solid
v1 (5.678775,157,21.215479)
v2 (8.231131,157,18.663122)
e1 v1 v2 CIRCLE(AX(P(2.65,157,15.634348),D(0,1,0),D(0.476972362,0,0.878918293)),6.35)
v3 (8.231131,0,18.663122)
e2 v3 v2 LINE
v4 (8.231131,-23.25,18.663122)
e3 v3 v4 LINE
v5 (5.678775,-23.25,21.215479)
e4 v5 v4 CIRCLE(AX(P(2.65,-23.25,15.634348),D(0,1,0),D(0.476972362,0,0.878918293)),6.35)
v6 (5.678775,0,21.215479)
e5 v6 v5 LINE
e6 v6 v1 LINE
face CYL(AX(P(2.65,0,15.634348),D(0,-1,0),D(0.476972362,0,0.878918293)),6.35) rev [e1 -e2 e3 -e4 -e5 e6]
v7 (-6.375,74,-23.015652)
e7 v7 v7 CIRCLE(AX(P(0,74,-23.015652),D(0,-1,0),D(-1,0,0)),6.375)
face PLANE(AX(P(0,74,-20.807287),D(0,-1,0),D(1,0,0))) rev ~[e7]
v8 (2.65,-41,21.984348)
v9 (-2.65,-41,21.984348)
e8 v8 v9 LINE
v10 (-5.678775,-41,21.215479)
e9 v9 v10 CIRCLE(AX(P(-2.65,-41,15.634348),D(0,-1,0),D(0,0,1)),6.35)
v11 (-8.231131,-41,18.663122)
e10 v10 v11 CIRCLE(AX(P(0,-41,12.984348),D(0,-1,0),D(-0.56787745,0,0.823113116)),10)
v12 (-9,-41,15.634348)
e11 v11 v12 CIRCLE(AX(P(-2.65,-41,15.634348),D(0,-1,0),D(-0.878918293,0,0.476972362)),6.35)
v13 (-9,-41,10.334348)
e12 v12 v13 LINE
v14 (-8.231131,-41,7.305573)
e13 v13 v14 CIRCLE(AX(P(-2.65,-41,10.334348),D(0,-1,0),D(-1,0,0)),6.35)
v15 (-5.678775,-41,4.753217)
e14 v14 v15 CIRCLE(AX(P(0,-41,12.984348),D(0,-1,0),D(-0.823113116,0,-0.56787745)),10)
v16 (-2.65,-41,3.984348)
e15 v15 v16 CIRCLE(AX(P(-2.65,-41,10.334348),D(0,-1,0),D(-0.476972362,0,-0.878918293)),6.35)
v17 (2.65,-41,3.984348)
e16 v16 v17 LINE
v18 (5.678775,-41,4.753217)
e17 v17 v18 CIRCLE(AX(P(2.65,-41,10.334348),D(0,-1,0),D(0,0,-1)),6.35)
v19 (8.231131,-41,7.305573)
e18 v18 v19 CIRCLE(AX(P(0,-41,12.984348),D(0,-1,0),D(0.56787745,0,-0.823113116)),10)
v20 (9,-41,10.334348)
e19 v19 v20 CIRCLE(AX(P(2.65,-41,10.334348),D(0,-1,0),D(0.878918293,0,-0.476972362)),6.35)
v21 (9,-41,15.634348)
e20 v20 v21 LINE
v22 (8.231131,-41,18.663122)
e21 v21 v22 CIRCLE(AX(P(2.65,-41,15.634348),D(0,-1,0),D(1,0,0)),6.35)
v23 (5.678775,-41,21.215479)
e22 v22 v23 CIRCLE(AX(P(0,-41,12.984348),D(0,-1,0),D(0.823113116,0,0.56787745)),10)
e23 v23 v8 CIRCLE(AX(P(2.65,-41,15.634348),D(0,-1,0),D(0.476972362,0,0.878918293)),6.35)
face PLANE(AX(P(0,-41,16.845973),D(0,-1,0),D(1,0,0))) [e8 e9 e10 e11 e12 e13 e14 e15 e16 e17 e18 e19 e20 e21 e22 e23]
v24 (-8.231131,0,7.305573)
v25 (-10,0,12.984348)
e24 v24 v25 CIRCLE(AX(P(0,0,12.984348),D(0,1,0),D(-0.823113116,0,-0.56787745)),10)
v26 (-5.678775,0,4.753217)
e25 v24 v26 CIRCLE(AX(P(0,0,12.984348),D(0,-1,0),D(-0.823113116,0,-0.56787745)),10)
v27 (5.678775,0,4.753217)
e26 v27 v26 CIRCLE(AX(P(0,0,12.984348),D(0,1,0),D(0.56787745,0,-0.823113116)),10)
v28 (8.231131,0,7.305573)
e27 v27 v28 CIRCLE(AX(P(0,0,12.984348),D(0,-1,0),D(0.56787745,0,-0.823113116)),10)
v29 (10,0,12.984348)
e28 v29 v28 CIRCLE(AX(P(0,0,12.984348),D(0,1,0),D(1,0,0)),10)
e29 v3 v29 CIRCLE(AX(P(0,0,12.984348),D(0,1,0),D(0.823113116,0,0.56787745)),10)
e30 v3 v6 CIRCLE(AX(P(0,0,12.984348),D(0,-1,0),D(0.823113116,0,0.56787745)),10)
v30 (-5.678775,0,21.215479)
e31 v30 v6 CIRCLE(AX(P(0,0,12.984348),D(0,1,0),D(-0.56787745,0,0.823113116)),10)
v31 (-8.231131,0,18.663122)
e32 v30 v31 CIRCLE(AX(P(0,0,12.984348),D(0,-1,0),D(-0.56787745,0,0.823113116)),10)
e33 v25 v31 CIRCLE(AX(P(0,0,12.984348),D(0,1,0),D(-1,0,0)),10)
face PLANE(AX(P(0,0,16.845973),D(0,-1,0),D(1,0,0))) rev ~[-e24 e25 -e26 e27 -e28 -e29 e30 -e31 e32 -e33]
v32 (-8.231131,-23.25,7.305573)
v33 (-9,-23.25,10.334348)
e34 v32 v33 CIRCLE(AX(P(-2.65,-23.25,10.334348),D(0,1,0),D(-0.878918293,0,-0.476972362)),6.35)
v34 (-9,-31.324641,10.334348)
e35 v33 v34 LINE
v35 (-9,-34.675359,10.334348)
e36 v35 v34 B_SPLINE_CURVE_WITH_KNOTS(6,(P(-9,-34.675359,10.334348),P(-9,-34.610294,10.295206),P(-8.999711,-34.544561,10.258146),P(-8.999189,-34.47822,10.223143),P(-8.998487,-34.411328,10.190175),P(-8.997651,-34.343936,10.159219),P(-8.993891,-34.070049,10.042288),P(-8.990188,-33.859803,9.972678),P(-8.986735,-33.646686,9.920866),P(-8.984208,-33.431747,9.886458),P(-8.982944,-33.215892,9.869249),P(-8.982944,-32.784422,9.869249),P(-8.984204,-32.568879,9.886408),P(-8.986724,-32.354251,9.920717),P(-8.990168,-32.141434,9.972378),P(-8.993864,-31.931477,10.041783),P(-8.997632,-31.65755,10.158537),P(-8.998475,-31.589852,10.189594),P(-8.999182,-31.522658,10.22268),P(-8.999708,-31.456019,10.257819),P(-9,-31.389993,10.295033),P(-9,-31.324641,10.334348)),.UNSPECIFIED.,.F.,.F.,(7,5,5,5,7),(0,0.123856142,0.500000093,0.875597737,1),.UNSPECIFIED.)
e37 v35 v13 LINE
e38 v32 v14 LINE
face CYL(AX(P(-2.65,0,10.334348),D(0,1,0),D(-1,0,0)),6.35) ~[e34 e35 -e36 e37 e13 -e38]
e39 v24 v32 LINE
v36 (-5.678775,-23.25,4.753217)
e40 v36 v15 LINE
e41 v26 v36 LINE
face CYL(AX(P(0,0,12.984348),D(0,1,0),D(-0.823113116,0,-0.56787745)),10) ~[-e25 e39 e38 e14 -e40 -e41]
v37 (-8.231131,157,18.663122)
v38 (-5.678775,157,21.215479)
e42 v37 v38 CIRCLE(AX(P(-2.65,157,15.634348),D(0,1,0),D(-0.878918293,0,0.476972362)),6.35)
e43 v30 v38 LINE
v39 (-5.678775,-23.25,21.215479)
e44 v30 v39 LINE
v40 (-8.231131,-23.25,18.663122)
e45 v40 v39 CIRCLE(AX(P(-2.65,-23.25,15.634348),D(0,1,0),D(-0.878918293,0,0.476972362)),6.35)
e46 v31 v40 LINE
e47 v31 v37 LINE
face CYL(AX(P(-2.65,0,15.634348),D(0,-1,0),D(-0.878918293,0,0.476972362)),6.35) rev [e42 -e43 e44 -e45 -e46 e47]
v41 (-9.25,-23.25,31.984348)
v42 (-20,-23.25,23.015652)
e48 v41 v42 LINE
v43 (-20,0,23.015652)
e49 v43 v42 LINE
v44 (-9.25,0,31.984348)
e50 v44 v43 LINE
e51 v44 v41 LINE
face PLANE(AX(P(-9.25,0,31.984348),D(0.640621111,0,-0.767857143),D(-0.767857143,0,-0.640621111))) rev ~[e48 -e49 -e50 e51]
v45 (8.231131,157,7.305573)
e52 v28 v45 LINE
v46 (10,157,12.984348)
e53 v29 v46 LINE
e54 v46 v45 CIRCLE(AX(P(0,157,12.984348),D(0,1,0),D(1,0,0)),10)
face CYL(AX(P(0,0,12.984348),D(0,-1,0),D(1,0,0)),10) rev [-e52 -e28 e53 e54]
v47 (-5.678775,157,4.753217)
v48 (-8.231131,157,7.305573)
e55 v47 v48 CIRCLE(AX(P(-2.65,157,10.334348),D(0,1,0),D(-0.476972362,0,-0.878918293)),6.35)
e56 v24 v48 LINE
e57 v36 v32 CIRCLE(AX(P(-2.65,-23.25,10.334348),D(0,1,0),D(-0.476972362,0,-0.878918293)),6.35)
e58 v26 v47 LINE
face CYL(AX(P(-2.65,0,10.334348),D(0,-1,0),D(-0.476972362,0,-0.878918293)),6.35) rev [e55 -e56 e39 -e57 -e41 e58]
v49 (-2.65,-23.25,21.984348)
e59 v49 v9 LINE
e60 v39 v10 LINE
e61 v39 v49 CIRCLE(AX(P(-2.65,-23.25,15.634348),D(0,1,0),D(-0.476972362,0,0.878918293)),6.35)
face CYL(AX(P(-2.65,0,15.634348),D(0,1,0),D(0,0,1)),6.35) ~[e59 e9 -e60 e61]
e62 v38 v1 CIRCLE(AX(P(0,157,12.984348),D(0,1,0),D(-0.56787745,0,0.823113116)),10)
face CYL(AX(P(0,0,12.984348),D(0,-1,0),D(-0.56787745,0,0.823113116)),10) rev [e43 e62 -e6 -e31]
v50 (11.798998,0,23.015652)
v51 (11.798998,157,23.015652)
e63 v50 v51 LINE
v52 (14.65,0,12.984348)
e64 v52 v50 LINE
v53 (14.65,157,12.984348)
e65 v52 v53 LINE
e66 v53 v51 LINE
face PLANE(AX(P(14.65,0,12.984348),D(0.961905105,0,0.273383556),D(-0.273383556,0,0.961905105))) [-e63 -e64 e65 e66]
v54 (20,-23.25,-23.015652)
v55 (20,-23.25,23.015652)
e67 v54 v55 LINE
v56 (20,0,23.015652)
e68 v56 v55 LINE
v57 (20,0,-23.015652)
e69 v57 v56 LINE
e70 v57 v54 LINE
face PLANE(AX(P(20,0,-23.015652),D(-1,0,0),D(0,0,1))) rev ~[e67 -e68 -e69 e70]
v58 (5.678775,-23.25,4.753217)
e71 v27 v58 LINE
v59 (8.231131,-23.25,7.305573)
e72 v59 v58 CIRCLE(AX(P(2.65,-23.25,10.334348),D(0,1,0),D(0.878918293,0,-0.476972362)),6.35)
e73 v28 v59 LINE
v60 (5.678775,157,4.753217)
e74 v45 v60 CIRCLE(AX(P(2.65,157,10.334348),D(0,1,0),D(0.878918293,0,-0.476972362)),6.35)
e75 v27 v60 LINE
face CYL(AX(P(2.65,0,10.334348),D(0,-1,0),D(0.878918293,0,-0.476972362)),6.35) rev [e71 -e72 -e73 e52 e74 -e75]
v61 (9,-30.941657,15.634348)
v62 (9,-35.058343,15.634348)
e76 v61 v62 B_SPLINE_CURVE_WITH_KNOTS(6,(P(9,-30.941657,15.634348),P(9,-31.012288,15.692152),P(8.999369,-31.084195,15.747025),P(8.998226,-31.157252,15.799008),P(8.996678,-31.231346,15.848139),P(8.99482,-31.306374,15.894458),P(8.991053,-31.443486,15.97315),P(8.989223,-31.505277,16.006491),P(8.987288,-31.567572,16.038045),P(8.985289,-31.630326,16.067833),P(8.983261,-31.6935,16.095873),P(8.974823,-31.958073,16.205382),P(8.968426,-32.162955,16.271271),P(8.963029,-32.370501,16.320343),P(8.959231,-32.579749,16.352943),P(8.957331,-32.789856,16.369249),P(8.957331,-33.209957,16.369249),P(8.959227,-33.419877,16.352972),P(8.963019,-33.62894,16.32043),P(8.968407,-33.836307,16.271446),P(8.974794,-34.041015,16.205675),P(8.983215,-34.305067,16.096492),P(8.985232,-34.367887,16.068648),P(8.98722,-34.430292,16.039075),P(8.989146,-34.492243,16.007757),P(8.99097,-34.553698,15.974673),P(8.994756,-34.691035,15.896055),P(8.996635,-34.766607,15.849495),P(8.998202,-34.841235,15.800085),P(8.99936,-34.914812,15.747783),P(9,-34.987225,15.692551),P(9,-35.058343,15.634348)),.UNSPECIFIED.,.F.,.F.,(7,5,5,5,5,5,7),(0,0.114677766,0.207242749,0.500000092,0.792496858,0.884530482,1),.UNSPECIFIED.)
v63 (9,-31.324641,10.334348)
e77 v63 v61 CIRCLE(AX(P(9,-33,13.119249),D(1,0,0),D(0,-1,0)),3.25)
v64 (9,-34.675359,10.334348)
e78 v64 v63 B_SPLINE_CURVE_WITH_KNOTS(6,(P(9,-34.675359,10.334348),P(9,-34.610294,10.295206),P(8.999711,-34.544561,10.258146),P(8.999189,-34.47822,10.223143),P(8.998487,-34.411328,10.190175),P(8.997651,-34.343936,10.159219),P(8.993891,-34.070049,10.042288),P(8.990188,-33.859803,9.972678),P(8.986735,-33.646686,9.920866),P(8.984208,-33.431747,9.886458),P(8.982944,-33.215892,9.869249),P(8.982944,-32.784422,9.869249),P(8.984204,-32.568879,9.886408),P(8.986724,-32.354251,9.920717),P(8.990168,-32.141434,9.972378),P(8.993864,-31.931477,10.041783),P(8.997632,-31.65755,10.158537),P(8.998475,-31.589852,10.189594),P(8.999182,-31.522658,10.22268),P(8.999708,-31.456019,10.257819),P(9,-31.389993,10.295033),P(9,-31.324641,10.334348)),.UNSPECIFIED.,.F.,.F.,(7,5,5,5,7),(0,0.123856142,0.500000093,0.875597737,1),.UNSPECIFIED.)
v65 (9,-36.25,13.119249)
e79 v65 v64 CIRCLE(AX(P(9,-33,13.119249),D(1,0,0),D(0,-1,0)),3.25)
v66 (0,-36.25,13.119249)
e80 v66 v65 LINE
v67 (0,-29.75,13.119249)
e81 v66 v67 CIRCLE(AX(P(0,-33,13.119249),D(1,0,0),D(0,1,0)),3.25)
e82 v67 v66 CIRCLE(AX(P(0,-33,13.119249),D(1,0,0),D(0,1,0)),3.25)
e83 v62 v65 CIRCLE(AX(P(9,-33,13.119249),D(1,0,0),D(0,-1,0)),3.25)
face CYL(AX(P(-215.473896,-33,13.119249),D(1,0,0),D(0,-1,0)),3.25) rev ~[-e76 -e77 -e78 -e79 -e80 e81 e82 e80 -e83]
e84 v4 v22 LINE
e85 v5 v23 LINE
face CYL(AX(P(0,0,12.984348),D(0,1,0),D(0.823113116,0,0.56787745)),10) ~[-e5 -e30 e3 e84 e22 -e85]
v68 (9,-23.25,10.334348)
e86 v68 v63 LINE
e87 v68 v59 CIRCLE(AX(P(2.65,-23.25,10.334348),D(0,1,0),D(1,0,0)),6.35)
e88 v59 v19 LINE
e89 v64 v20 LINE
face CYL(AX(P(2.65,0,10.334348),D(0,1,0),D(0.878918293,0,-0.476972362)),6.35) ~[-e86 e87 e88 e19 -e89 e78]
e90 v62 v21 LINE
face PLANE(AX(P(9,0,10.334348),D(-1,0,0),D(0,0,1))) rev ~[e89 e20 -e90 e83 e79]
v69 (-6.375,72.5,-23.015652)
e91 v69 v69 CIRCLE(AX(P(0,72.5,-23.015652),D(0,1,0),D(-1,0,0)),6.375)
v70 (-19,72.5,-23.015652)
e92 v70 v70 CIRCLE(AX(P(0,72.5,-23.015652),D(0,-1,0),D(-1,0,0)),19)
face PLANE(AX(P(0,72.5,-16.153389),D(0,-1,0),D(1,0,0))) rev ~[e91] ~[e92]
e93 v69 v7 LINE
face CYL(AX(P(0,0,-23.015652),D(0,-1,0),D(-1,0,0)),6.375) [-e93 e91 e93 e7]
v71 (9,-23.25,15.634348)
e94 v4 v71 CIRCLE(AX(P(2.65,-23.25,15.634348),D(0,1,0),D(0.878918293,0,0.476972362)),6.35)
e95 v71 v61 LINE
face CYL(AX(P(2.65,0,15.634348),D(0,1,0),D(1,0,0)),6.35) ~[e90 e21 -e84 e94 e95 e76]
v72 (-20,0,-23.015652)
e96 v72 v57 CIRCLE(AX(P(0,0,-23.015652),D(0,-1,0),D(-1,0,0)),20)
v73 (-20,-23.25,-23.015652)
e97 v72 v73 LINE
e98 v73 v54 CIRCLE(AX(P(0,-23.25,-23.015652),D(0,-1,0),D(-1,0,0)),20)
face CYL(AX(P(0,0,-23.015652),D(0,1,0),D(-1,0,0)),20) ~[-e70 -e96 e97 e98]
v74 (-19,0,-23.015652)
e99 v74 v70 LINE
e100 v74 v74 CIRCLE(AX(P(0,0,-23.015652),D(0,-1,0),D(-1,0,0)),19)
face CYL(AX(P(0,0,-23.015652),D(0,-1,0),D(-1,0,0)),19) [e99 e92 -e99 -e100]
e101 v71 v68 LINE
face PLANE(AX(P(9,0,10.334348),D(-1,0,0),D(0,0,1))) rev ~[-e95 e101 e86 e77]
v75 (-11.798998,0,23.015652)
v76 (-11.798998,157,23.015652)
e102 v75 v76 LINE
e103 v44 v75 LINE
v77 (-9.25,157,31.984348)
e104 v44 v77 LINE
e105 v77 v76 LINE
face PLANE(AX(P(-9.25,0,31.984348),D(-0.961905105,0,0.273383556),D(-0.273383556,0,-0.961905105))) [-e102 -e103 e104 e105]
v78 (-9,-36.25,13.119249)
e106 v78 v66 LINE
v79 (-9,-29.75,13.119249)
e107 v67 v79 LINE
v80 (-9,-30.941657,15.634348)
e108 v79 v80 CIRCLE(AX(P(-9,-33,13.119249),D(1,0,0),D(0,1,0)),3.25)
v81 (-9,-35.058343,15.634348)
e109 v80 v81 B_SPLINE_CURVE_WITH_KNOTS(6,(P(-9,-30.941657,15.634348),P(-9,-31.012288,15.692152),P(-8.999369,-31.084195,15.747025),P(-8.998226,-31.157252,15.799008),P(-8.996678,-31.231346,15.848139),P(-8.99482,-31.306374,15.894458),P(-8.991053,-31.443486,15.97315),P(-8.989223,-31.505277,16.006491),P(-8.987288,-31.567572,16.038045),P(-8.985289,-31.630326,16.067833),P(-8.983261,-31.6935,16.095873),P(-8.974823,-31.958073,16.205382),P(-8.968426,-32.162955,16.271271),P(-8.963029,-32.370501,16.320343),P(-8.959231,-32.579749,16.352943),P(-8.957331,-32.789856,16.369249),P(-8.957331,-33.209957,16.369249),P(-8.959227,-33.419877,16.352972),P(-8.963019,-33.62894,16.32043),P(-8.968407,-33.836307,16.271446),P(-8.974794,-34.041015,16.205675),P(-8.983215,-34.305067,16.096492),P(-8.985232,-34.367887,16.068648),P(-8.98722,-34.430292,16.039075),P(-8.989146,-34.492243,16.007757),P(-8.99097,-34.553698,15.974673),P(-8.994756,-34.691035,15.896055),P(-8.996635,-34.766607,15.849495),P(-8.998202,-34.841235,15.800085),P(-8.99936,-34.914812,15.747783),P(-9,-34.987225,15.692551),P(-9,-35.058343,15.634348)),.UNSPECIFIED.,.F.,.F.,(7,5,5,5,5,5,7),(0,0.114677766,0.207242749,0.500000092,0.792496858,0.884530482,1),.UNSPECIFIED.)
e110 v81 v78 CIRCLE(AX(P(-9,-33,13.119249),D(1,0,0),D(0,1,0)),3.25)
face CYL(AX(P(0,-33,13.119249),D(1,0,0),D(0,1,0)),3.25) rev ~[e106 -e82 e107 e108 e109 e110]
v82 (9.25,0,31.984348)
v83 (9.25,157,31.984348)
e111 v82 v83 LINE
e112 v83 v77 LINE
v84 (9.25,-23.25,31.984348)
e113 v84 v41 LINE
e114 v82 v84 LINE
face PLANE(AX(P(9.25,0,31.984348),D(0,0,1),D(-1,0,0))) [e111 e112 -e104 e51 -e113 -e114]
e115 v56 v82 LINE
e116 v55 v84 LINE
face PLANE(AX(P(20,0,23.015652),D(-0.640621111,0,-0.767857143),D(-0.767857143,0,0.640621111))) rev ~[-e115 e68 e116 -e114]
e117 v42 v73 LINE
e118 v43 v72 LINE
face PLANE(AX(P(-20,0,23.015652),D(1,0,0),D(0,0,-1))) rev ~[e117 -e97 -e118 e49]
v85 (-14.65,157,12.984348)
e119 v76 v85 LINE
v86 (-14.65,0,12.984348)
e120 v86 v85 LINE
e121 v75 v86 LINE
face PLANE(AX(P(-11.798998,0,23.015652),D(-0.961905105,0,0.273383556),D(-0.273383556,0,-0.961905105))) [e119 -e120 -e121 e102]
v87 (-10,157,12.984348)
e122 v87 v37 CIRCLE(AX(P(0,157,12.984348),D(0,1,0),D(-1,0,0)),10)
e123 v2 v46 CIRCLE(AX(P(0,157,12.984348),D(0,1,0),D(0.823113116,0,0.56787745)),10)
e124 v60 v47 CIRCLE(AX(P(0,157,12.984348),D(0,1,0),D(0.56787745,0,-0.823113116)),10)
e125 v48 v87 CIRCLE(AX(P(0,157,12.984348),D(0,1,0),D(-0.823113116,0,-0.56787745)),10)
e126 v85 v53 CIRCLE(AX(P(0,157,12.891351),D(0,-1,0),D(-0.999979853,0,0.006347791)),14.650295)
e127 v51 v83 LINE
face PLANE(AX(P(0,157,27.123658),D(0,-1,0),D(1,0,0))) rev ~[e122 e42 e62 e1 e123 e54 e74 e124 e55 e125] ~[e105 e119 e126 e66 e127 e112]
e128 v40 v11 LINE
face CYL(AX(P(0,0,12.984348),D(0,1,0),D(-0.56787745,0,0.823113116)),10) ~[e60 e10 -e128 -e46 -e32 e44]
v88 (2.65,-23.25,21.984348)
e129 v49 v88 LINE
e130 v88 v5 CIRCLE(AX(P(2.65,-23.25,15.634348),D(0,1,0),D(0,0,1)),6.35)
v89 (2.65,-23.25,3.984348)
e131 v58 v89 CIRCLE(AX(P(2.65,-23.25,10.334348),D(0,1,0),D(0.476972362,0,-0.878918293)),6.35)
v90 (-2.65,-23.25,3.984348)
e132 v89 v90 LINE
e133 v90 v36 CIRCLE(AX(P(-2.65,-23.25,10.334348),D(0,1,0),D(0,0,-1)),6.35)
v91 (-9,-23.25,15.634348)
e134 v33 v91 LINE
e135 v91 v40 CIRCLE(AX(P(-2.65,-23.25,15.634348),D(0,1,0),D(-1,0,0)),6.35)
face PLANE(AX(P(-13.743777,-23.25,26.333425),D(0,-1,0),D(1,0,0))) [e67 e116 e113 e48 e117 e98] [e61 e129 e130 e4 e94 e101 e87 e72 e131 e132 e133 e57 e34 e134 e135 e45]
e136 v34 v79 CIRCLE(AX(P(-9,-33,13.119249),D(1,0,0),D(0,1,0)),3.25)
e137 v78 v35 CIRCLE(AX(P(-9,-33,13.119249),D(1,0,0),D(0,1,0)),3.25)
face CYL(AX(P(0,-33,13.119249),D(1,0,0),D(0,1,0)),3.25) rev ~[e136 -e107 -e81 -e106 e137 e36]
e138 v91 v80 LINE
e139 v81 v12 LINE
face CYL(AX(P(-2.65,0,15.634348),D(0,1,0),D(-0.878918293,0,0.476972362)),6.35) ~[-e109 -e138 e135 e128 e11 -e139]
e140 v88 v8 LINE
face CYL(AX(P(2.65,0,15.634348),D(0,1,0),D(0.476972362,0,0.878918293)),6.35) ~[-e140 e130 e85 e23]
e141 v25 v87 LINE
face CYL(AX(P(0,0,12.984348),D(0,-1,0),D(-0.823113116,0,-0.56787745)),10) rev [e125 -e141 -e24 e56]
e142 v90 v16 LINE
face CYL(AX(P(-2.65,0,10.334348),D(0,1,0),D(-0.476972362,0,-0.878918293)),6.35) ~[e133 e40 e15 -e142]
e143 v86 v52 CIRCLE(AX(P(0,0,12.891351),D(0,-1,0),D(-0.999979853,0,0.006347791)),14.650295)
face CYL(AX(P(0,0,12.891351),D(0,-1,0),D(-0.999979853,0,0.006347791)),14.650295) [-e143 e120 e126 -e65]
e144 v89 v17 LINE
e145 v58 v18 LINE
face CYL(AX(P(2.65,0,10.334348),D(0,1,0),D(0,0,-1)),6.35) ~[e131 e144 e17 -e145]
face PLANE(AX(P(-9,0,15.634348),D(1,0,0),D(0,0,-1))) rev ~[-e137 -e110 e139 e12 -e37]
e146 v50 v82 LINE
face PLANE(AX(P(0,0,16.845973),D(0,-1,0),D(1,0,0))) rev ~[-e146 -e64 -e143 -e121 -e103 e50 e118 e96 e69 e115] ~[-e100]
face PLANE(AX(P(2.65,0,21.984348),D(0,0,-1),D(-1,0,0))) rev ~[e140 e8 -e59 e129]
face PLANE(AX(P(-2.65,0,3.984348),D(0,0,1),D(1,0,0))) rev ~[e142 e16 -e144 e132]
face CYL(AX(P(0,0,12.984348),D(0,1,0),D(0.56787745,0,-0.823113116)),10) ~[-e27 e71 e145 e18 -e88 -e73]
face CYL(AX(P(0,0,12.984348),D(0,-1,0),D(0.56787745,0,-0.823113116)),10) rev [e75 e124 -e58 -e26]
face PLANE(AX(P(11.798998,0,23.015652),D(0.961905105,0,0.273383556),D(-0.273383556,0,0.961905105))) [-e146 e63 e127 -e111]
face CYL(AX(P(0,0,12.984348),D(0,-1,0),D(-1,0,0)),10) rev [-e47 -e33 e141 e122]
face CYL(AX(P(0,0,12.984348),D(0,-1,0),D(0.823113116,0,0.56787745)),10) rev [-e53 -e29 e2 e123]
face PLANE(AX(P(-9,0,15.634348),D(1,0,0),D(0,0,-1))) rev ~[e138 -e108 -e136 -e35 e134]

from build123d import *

# Parameters (mm, degrees)
F2_DEPTH = 23.25
F3_DEPTH = 41
F4_DEPTH = 72.5
F5_DEPTH = 74
F6_DEPTH = 157
F7_D     = 6.5
F7_DEPTH = 20.001
F8_D     = 6.5


with BuildPart() as f2:
    # F0 (on Front) → F2 (new body)
    with BuildSketch(Plane.XZ):
        Polygon((-9.25, 31.9843477787), (-20, 23.0156522213), (-11.7989976847, 23.0156522213), align=None)
        with BuildLine():
            Line((-11.7989976847, 23.0156522213), (-20, 23.0156522213))
            Line((-20, 23.0156522213), (-20, -23.0156522213))
            Line((-20, -23.0156522213), (-19, -23.0156522213))
            ThreePointArc((-19, -23.0156522213), (0, -4.0156522213), (19, -23.0156522213))
            Line((19, -23.0156522213), (20, -23.0156522213))
            Line((20, -23.0156522213), (20, 23.0156522213))
            Line((20, 23.0156522213), (11.7989976847, 23.0156522213))
            Line((11.7989976847, 23.0156522213), (14.65, 12.9843477787))
            ThreePointArc((14.65, 12.9843477787), (0, -1.7589444033), (-14.65, 12.9843477787))
            Line((-14.65, 12.9843477787), (-11.7989976847, 23.0156522213))
        make_face()
        Polygon((-9.25, 31.9843477787), (-11.7989976847, 23.0156522213), (11.7989976847, 23.0156522213), (9.25, 31.9843477787), align=None)
        with BuildLine():
            Line((-19, -23.0156522213), (-20, -23.0156522213))
            ThreePointArc((-20, -23.0156522213), (0, -43.0156522213), (20, -23.0156522213))
            Line((20, -23.0156522213), (19, -23.0156522213))
            ThreePointArc((19, -23.0156522213), (0, -42.0156522213), (-19, -23.0156522213))
        make_face()
        Polygon((9.25, 31.9843477787), (11.7989976847, 23.0156522213), (20, 23.0156522213), align=None)
        with BuildLine():
            Line((-10, 12.9843477787), (-14.65, 12.9843477787))
            ThreePointArc((-14.65, 12.9843477787), (0, -1.7589444033), (14.65, 12.9843477787))
            Line((14.65, 12.9843477787), (10, 12.9843477787))
            ThreePointArc((10, 12.9843477787), (9.5475471091, 10.0104035628), (8.2311311601, 7.3055732784))
            ThreePointArc((8.2311311601, 7.3055732784), (7.1401280605, 5.8442197181), (5.6787745002, 4.7532166185))
            ThreePointArc((5.6787745002, 4.7532166185), (0, 2.9843477787), (-5.6787745002, 4.7532166185))
            ThreePointArc((-5.6787745002, 4.7532166185), (-7.1401280605, 5.8442197181), (-8.2311311601, 7.3055732784))
            ThreePointArc((-8.2311311601, 7.3055732784), (-9.5475471091, 10.0104035628), (-10, 12.9843477787))
        make_face()
        with BuildLine():
            Line((11.7989976847, 23.0156522213), (-11.7989976847, 23.0156522213))
            Line((-11.7989976847, 23.0156522213), (-14.65, 12.9843477787))
            Line((-14.65, 12.9843477787), (-10, 12.9843477787))
            ThreePointArc((-10, 12.9843477787), (-9.5475471091, 15.9582919946), (-8.2311311601, 18.6631222789))
            ThreePointArc((-8.2311311601, 18.6631222789), (-7.1401280605, 20.1244758392), (-5.6787745002, 21.2154789388))
            ThreePointArc((-5.6787745002, 21.2154789388), (0, 22.9843477787), (5.6787745002, 21.2154789388))
            ThreePointArc((5.6787745002, 21.2154789388), (7.1401280605, 20.1244758392), (8.2311311601, 18.6631222789))
            ThreePointArc((8.2311311601, 18.6631222789), (9.5475471091, 15.9582919946), (10, 12.9843477787))
            Line((10, 12.9843477787), (14.65, 12.9843477787))
            Line((14.65, 12.9843477787), (11.7989976847, 23.0156522213))
        make_face()
        with BuildLine():
            ThreePointArc((5.6787745002, 21.2154789388), (0, 22.9843477787), (-5.6787745002, 21.2154789388))
            ThreePointArc((-5.6787745002, 21.2154789388), (-4.2124207393, 21.7891297759), (-2.65, 21.9843477787))
            Line((-2.65, 21.9843477787), (2.65, 21.9843477787))
            ThreePointArc((2.65, 21.9843477787), (4.2124207393, 21.7891297759), (5.6787745002, 21.2154789388))
        make_face()
        with BuildLine():
            ThreePointArc((-8.2311311601, 18.6631222789), (-9.5475471091, 15.9582919946), (-10, 12.9843477787))
            Line((-10, 12.9843477787), (-9, 12.9843477787))
            Line((-9, 12.9843477787), (-9, 15.6343477787))
            ThreePointArc((-9, 15.6343477787), (-8.8047819972, 17.1967685179), (-8.2311311601, 18.6631222789))
        make_face()
        with BuildLine():
            Line((-9, 12.9843477787), (-10, 12.9843477787))
            ThreePointArc((-10, 12.9843477787), (-9.5475471091, 10.0104035628), (-8.2311311601, 7.3055732784))
            ThreePointArc((-8.2311311601, 7.3055732784), (-8.8047819972, 8.7719270394), (-9, 10.3343477787))
            Line((-9, 10.3343477787), (-9, 12.9843477787))
        make_face()
        with BuildLine():
            ThreePointArc((8.2311311601, 7.3055732784), (9.5475471091, 10.0104035628), (10, 12.9843477787))
            Line((10, 12.9843477787), (9, 12.9843477787))
            Line((9, 12.9843477787), (9, 10.3343477787))
            ThreePointArc((9, 10.3343477787), (8.8047819972, 8.7719270394), (8.2311311601, 7.3055732784))
        make_face()
        with BuildLine():
            Line((9, 12.9843477787), (10, 12.9843477787))
            ThreePointArc((10, 12.9843477787), (9.5475471091, 15.9582919946), (8.2311311601, 18.6631222789))
            ThreePointArc((8.2311311601, 18.6631222789), (8.8047819972, 17.1967685179), (9, 15.6343477787))
            Line((9, 15.6343477787), (9, 12.9843477787))
        make_face()
        with BuildLine():
            ThreePointArc((-2.65, 3.9843477787), (-4.2124207393, 4.1795657814), (-5.6787745002, 4.7532166185))
            ThreePointArc((-5.6787745002, 4.7532166185), (0, 2.9843477787), (5.6787745002, 4.7532166185))
            ThreePointArc((5.6787745002, 4.7532166185), (4.2124207393, 4.1795657814), (2.65, 3.9843477787))
            Line((2.65, 3.9843477787), (-2.65, 3.9843477787))
        make_face()
        with BuildLine():
            ThreePointArc((19, -23.0156522213), (0, -4.0156522213), (-19, -23.0156522213))
            Line((-19, -23.0156522213), (-6.375, -23.0156522213))
            ThreePointArc((-6.375, -23.0156522213), (0, -16.6406522213), (6.375, -23.0156522213))
            Line((6.375, -23.0156522213), (19, -23.0156522213))
        make_face()
        with BuildLine():
            ThreePointArc((6.375, -23.0156522213), (0, -16.6406522213), (-6.375, -23.0156522213))
            Line((-6.375, -23.0156522213), (6.375, -23.0156522213))
        make_face()
        with BuildLine():
            Line((6.375, -23.0156522213), (-6.375, -23.0156522213))
            ThreePointArc((-6.375, -23.0156522213), (0, -29.3906522213), (6.375, -23.0156522213))
        make_face()
        with BuildLine():
            Line((-6.375, -23.0156522213), (-19, -23.0156522213))
            ThreePointArc((-19, -23.0156522213), (0, -42.0156522213), (19, -23.0156522213))
            Line((19, -23.0156522213), (6.375, -23.0156522213))
            ThreePointArc((6.375, -23.0156522213), (0, -29.3906522213), (-6.375, -23.0156522213))
        make_face()
    extrude(amount=F2_DEPTH)

    # F0 (on Front) → F3 (join)
    with BuildSketch(Plane.XZ):
        with BuildLine():
            ThreePointArc((-5.6787745002, 21.2154789388), (-7.0710678119, 20.0554155905), (-8.2311311601, 18.6631222789))
            ThreePointArc((-8.2311311601, 18.6631222789), (-8.8047819972, 17.1967685179), (-9, 15.6343477787))
            Line((-9, 15.6343477787), (-9, 12.9843477787))
            Line((-9, 12.9843477787), (0, 12.9843477787))
            Line((0, 12.9843477787), (9, 12.9843477787))
            Line((9, 12.9843477787), (9, 15.6343477787))
            ThreePointArc((9, 15.6343477787), (8.8047819972, 17.1967685179), (8.2311311601, 18.6631222789))
            ThreePointArc((8.2311311601, 18.6631222789), (7.0710678119, 20.0554155905), (5.6787745002, 21.2154789388))
            ThreePointArc((5.6787745002, 21.2154789388), (4.2124207393, 21.7891297759), (2.65, 21.9843477787))
            Line((2.65, 21.9843477787), (-2.65, 21.9843477787))
            ThreePointArc((-2.65, 21.9843477787), (-4.2124207393, 21.7891297759), (-5.6787745002, 21.2154789388))
        make_face()
        with BuildLine():
            ThreePointArc((-9, 10.3343477787), (-8.8047819972, 8.7719270394), (-8.2311311601, 7.3055732784))
            ThreePointArc((-8.2311311601, 7.3055732784), (-7.0710678119, 5.9132799668), (-5.6787745002, 4.7532166185))
            ThreePointArc((-5.6787745002, 4.7532166185), (-4.2124207393, 4.1795657814), (-2.65, 3.9843477787))
            Line((-2.65, 3.9843477787), (2.65, 3.9843477787))
            ThreePointArc((2.65, 3.9843477787), (4.2124207393, 4.1795657814), (5.6787745002, 4.7532166185))
            ThreePointArc((5.6787745002, 4.7532166185), (7.0710678119, 5.9132799668), (8.2311311601, 7.3055732784))
            ThreePointArc((8.2311311601, 7.3055732784), (8.8047819972, 8.7719270394), (9, 10.3343477787))
            Line((9, 10.3343477787), (9, 12.9843477787))
            Line((9, 12.9843477787), (0, 12.9843477787))
            Line((0, 12.9843477787), (-9, 12.9843477787))
            Line((-9, 12.9843477787), (-9, 10.3343477787))
        make_face()
    extrude(amount=F3_DEPTH)

    # F0 (on Front) → F4 (join)
    with BuildSketch(Plane.XZ):
        with BuildLine():
            ThreePointArc((19, -23.0156522213), (0, -4.0156522213), (-19, -23.0156522213))
            Line((-19, -23.0156522213), (-6.375, -23.0156522213))
            ThreePointArc((-6.375, -23.0156522213), (0, -16.6406522213), (6.375, -23.0156522213))
            Line((6.375, -23.0156522213), (19, -23.0156522213))
        make_face()
        with BuildLine():
            Line((-6.375, -23.0156522213), (-19, -23.0156522213))
            ThreePointArc((-19, -23.0156522213), (0, -42.0156522213), (19, -23.0156522213))
            Line((19, -23.0156522213), (6.375, -23.0156522213))
            ThreePointArc((6.375, -23.0156522213), (0, -29.3906522213), (-6.375, -23.0156522213))
        make_face()
    extrude(amount=-F4_DEPTH)

    # F0 (on Front) → F5 (join)
    with BuildSketch(Plane.XZ):
        with BuildLine():
            ThreePointArc((6.375, -23.0156522213), (0, -16.6406522213), (-6.375, -23.0156522213))
            Line((-6.375, -23.0156522213), (6.375, -23.0156522213))
        make_face()
        with BuildLine():
            Line((6.375, -23.0156522213), (-6.375, -23.0156522213))
            ThreePointArc((-6.375, -23.0156522213), (0, -29.3906522213), (6.375, -23.0156522213))
        make_face()
    extrude(amount=-F5_DEPTH)

    # F0 (on Front) → F6 (join)
    with BuildSketch(Plane.XZ):
        Polygon((-9.25, 31.9843477787), (-11.7989976847, 23.0156522213), (11.7989976847, 23.0156522213), (9.25, 31.9843477787), align=None)
        with BuildLine():
            Line((11.7989976847, 23.0156522213), (-11.7989976847, 23.0156522213))
            Line((-11.7989976847, 23.0156522213), (-14.65, 12.9843477787))
            Line((-14.65, 12.9843477787), (-10, 12.9843477787))
            ThreePointArc((-10, 12.9843477787), (-9.5475471091, 15.9582919946), (-8.2311311601, 18.6631222789))
            ThreePointArc((-8.2311311601, 18.6631222789), (-7.1401280605, 20.1244758392), (-5.6787745002, 21.2154789388))
            ThreePointArc((-5.6787745002, 21.2154789388), (0, 22.9843477787), (5.6787745002, 21.2154789388))
            ThreePointArc((5.6787745002, 21.2154789388), (7.1401280605, 20.1244758392), (8.2311311601, 18.6631222789))
            ThreePointArc((8.2311311601, 18.6631222789), (9.5475471091, 15.9582919946), (10, 12.9843477787))
            Line((10, 12.9843477787), (14.65, 12.9843477787))
            Line((14.65, 12.9843477787), (11.7989976847, 23.0156522213))
        make_face()
        with BuildLine():
            Line((-10, 12.9843477787), (-14.65, 12.9843477787))
            ThreePointArc((-14.65, 12.9843477787), (0, -1.7589444033), (14.65, 12.9843477787))
            Line((14.65, 12.9843477787), (10, 12.9843477787))
            ThreePointArc((10, 12.9843477787), (9.5475471091, 10.0104035628), (8.2311311601, 7.3055732784))
            ThreePointArc((8.2311311601, 7.3055732784), (7.1401280605, 5.8442197181), (5.6787745002, 4.7532166185))
            ThreePointArc((5.6787745002, 4.7532166185), (0, 2.9843477787), (-5.6787745002, 4.7532166185))
            ThreePointArc((-5.6787745002, 4.7532166185), (-7.1401280605, 5.8442197181), (-8.2311311601, 7.3055732784))
            ThreePointArc((-8.2311311601, 7.3055732784), (-9.5475471091, 10.0104035628), (-10, 12.9843477787))
        make_face()
    extrude(amount=-F6_DEPTH)

    # F7 (through all, one way)
    with BuildSketch(Plane.YZ):
        with Locations((-33, 13.1192486733)):
            Circle(F7_D / 2)
    extrude(amount=-F7_DEPTH, mode=Mode.SUBTRACT)

    # F8 (through all)
    with Locations(Plane(origin=(0, 0, 0), x_dir=(0, 1, 0), z_dir=(-1, 0, 0))):
        with Locations((-33, -13.1192486733)):
            Hole(F8_D / 2)


solid = f2.part
